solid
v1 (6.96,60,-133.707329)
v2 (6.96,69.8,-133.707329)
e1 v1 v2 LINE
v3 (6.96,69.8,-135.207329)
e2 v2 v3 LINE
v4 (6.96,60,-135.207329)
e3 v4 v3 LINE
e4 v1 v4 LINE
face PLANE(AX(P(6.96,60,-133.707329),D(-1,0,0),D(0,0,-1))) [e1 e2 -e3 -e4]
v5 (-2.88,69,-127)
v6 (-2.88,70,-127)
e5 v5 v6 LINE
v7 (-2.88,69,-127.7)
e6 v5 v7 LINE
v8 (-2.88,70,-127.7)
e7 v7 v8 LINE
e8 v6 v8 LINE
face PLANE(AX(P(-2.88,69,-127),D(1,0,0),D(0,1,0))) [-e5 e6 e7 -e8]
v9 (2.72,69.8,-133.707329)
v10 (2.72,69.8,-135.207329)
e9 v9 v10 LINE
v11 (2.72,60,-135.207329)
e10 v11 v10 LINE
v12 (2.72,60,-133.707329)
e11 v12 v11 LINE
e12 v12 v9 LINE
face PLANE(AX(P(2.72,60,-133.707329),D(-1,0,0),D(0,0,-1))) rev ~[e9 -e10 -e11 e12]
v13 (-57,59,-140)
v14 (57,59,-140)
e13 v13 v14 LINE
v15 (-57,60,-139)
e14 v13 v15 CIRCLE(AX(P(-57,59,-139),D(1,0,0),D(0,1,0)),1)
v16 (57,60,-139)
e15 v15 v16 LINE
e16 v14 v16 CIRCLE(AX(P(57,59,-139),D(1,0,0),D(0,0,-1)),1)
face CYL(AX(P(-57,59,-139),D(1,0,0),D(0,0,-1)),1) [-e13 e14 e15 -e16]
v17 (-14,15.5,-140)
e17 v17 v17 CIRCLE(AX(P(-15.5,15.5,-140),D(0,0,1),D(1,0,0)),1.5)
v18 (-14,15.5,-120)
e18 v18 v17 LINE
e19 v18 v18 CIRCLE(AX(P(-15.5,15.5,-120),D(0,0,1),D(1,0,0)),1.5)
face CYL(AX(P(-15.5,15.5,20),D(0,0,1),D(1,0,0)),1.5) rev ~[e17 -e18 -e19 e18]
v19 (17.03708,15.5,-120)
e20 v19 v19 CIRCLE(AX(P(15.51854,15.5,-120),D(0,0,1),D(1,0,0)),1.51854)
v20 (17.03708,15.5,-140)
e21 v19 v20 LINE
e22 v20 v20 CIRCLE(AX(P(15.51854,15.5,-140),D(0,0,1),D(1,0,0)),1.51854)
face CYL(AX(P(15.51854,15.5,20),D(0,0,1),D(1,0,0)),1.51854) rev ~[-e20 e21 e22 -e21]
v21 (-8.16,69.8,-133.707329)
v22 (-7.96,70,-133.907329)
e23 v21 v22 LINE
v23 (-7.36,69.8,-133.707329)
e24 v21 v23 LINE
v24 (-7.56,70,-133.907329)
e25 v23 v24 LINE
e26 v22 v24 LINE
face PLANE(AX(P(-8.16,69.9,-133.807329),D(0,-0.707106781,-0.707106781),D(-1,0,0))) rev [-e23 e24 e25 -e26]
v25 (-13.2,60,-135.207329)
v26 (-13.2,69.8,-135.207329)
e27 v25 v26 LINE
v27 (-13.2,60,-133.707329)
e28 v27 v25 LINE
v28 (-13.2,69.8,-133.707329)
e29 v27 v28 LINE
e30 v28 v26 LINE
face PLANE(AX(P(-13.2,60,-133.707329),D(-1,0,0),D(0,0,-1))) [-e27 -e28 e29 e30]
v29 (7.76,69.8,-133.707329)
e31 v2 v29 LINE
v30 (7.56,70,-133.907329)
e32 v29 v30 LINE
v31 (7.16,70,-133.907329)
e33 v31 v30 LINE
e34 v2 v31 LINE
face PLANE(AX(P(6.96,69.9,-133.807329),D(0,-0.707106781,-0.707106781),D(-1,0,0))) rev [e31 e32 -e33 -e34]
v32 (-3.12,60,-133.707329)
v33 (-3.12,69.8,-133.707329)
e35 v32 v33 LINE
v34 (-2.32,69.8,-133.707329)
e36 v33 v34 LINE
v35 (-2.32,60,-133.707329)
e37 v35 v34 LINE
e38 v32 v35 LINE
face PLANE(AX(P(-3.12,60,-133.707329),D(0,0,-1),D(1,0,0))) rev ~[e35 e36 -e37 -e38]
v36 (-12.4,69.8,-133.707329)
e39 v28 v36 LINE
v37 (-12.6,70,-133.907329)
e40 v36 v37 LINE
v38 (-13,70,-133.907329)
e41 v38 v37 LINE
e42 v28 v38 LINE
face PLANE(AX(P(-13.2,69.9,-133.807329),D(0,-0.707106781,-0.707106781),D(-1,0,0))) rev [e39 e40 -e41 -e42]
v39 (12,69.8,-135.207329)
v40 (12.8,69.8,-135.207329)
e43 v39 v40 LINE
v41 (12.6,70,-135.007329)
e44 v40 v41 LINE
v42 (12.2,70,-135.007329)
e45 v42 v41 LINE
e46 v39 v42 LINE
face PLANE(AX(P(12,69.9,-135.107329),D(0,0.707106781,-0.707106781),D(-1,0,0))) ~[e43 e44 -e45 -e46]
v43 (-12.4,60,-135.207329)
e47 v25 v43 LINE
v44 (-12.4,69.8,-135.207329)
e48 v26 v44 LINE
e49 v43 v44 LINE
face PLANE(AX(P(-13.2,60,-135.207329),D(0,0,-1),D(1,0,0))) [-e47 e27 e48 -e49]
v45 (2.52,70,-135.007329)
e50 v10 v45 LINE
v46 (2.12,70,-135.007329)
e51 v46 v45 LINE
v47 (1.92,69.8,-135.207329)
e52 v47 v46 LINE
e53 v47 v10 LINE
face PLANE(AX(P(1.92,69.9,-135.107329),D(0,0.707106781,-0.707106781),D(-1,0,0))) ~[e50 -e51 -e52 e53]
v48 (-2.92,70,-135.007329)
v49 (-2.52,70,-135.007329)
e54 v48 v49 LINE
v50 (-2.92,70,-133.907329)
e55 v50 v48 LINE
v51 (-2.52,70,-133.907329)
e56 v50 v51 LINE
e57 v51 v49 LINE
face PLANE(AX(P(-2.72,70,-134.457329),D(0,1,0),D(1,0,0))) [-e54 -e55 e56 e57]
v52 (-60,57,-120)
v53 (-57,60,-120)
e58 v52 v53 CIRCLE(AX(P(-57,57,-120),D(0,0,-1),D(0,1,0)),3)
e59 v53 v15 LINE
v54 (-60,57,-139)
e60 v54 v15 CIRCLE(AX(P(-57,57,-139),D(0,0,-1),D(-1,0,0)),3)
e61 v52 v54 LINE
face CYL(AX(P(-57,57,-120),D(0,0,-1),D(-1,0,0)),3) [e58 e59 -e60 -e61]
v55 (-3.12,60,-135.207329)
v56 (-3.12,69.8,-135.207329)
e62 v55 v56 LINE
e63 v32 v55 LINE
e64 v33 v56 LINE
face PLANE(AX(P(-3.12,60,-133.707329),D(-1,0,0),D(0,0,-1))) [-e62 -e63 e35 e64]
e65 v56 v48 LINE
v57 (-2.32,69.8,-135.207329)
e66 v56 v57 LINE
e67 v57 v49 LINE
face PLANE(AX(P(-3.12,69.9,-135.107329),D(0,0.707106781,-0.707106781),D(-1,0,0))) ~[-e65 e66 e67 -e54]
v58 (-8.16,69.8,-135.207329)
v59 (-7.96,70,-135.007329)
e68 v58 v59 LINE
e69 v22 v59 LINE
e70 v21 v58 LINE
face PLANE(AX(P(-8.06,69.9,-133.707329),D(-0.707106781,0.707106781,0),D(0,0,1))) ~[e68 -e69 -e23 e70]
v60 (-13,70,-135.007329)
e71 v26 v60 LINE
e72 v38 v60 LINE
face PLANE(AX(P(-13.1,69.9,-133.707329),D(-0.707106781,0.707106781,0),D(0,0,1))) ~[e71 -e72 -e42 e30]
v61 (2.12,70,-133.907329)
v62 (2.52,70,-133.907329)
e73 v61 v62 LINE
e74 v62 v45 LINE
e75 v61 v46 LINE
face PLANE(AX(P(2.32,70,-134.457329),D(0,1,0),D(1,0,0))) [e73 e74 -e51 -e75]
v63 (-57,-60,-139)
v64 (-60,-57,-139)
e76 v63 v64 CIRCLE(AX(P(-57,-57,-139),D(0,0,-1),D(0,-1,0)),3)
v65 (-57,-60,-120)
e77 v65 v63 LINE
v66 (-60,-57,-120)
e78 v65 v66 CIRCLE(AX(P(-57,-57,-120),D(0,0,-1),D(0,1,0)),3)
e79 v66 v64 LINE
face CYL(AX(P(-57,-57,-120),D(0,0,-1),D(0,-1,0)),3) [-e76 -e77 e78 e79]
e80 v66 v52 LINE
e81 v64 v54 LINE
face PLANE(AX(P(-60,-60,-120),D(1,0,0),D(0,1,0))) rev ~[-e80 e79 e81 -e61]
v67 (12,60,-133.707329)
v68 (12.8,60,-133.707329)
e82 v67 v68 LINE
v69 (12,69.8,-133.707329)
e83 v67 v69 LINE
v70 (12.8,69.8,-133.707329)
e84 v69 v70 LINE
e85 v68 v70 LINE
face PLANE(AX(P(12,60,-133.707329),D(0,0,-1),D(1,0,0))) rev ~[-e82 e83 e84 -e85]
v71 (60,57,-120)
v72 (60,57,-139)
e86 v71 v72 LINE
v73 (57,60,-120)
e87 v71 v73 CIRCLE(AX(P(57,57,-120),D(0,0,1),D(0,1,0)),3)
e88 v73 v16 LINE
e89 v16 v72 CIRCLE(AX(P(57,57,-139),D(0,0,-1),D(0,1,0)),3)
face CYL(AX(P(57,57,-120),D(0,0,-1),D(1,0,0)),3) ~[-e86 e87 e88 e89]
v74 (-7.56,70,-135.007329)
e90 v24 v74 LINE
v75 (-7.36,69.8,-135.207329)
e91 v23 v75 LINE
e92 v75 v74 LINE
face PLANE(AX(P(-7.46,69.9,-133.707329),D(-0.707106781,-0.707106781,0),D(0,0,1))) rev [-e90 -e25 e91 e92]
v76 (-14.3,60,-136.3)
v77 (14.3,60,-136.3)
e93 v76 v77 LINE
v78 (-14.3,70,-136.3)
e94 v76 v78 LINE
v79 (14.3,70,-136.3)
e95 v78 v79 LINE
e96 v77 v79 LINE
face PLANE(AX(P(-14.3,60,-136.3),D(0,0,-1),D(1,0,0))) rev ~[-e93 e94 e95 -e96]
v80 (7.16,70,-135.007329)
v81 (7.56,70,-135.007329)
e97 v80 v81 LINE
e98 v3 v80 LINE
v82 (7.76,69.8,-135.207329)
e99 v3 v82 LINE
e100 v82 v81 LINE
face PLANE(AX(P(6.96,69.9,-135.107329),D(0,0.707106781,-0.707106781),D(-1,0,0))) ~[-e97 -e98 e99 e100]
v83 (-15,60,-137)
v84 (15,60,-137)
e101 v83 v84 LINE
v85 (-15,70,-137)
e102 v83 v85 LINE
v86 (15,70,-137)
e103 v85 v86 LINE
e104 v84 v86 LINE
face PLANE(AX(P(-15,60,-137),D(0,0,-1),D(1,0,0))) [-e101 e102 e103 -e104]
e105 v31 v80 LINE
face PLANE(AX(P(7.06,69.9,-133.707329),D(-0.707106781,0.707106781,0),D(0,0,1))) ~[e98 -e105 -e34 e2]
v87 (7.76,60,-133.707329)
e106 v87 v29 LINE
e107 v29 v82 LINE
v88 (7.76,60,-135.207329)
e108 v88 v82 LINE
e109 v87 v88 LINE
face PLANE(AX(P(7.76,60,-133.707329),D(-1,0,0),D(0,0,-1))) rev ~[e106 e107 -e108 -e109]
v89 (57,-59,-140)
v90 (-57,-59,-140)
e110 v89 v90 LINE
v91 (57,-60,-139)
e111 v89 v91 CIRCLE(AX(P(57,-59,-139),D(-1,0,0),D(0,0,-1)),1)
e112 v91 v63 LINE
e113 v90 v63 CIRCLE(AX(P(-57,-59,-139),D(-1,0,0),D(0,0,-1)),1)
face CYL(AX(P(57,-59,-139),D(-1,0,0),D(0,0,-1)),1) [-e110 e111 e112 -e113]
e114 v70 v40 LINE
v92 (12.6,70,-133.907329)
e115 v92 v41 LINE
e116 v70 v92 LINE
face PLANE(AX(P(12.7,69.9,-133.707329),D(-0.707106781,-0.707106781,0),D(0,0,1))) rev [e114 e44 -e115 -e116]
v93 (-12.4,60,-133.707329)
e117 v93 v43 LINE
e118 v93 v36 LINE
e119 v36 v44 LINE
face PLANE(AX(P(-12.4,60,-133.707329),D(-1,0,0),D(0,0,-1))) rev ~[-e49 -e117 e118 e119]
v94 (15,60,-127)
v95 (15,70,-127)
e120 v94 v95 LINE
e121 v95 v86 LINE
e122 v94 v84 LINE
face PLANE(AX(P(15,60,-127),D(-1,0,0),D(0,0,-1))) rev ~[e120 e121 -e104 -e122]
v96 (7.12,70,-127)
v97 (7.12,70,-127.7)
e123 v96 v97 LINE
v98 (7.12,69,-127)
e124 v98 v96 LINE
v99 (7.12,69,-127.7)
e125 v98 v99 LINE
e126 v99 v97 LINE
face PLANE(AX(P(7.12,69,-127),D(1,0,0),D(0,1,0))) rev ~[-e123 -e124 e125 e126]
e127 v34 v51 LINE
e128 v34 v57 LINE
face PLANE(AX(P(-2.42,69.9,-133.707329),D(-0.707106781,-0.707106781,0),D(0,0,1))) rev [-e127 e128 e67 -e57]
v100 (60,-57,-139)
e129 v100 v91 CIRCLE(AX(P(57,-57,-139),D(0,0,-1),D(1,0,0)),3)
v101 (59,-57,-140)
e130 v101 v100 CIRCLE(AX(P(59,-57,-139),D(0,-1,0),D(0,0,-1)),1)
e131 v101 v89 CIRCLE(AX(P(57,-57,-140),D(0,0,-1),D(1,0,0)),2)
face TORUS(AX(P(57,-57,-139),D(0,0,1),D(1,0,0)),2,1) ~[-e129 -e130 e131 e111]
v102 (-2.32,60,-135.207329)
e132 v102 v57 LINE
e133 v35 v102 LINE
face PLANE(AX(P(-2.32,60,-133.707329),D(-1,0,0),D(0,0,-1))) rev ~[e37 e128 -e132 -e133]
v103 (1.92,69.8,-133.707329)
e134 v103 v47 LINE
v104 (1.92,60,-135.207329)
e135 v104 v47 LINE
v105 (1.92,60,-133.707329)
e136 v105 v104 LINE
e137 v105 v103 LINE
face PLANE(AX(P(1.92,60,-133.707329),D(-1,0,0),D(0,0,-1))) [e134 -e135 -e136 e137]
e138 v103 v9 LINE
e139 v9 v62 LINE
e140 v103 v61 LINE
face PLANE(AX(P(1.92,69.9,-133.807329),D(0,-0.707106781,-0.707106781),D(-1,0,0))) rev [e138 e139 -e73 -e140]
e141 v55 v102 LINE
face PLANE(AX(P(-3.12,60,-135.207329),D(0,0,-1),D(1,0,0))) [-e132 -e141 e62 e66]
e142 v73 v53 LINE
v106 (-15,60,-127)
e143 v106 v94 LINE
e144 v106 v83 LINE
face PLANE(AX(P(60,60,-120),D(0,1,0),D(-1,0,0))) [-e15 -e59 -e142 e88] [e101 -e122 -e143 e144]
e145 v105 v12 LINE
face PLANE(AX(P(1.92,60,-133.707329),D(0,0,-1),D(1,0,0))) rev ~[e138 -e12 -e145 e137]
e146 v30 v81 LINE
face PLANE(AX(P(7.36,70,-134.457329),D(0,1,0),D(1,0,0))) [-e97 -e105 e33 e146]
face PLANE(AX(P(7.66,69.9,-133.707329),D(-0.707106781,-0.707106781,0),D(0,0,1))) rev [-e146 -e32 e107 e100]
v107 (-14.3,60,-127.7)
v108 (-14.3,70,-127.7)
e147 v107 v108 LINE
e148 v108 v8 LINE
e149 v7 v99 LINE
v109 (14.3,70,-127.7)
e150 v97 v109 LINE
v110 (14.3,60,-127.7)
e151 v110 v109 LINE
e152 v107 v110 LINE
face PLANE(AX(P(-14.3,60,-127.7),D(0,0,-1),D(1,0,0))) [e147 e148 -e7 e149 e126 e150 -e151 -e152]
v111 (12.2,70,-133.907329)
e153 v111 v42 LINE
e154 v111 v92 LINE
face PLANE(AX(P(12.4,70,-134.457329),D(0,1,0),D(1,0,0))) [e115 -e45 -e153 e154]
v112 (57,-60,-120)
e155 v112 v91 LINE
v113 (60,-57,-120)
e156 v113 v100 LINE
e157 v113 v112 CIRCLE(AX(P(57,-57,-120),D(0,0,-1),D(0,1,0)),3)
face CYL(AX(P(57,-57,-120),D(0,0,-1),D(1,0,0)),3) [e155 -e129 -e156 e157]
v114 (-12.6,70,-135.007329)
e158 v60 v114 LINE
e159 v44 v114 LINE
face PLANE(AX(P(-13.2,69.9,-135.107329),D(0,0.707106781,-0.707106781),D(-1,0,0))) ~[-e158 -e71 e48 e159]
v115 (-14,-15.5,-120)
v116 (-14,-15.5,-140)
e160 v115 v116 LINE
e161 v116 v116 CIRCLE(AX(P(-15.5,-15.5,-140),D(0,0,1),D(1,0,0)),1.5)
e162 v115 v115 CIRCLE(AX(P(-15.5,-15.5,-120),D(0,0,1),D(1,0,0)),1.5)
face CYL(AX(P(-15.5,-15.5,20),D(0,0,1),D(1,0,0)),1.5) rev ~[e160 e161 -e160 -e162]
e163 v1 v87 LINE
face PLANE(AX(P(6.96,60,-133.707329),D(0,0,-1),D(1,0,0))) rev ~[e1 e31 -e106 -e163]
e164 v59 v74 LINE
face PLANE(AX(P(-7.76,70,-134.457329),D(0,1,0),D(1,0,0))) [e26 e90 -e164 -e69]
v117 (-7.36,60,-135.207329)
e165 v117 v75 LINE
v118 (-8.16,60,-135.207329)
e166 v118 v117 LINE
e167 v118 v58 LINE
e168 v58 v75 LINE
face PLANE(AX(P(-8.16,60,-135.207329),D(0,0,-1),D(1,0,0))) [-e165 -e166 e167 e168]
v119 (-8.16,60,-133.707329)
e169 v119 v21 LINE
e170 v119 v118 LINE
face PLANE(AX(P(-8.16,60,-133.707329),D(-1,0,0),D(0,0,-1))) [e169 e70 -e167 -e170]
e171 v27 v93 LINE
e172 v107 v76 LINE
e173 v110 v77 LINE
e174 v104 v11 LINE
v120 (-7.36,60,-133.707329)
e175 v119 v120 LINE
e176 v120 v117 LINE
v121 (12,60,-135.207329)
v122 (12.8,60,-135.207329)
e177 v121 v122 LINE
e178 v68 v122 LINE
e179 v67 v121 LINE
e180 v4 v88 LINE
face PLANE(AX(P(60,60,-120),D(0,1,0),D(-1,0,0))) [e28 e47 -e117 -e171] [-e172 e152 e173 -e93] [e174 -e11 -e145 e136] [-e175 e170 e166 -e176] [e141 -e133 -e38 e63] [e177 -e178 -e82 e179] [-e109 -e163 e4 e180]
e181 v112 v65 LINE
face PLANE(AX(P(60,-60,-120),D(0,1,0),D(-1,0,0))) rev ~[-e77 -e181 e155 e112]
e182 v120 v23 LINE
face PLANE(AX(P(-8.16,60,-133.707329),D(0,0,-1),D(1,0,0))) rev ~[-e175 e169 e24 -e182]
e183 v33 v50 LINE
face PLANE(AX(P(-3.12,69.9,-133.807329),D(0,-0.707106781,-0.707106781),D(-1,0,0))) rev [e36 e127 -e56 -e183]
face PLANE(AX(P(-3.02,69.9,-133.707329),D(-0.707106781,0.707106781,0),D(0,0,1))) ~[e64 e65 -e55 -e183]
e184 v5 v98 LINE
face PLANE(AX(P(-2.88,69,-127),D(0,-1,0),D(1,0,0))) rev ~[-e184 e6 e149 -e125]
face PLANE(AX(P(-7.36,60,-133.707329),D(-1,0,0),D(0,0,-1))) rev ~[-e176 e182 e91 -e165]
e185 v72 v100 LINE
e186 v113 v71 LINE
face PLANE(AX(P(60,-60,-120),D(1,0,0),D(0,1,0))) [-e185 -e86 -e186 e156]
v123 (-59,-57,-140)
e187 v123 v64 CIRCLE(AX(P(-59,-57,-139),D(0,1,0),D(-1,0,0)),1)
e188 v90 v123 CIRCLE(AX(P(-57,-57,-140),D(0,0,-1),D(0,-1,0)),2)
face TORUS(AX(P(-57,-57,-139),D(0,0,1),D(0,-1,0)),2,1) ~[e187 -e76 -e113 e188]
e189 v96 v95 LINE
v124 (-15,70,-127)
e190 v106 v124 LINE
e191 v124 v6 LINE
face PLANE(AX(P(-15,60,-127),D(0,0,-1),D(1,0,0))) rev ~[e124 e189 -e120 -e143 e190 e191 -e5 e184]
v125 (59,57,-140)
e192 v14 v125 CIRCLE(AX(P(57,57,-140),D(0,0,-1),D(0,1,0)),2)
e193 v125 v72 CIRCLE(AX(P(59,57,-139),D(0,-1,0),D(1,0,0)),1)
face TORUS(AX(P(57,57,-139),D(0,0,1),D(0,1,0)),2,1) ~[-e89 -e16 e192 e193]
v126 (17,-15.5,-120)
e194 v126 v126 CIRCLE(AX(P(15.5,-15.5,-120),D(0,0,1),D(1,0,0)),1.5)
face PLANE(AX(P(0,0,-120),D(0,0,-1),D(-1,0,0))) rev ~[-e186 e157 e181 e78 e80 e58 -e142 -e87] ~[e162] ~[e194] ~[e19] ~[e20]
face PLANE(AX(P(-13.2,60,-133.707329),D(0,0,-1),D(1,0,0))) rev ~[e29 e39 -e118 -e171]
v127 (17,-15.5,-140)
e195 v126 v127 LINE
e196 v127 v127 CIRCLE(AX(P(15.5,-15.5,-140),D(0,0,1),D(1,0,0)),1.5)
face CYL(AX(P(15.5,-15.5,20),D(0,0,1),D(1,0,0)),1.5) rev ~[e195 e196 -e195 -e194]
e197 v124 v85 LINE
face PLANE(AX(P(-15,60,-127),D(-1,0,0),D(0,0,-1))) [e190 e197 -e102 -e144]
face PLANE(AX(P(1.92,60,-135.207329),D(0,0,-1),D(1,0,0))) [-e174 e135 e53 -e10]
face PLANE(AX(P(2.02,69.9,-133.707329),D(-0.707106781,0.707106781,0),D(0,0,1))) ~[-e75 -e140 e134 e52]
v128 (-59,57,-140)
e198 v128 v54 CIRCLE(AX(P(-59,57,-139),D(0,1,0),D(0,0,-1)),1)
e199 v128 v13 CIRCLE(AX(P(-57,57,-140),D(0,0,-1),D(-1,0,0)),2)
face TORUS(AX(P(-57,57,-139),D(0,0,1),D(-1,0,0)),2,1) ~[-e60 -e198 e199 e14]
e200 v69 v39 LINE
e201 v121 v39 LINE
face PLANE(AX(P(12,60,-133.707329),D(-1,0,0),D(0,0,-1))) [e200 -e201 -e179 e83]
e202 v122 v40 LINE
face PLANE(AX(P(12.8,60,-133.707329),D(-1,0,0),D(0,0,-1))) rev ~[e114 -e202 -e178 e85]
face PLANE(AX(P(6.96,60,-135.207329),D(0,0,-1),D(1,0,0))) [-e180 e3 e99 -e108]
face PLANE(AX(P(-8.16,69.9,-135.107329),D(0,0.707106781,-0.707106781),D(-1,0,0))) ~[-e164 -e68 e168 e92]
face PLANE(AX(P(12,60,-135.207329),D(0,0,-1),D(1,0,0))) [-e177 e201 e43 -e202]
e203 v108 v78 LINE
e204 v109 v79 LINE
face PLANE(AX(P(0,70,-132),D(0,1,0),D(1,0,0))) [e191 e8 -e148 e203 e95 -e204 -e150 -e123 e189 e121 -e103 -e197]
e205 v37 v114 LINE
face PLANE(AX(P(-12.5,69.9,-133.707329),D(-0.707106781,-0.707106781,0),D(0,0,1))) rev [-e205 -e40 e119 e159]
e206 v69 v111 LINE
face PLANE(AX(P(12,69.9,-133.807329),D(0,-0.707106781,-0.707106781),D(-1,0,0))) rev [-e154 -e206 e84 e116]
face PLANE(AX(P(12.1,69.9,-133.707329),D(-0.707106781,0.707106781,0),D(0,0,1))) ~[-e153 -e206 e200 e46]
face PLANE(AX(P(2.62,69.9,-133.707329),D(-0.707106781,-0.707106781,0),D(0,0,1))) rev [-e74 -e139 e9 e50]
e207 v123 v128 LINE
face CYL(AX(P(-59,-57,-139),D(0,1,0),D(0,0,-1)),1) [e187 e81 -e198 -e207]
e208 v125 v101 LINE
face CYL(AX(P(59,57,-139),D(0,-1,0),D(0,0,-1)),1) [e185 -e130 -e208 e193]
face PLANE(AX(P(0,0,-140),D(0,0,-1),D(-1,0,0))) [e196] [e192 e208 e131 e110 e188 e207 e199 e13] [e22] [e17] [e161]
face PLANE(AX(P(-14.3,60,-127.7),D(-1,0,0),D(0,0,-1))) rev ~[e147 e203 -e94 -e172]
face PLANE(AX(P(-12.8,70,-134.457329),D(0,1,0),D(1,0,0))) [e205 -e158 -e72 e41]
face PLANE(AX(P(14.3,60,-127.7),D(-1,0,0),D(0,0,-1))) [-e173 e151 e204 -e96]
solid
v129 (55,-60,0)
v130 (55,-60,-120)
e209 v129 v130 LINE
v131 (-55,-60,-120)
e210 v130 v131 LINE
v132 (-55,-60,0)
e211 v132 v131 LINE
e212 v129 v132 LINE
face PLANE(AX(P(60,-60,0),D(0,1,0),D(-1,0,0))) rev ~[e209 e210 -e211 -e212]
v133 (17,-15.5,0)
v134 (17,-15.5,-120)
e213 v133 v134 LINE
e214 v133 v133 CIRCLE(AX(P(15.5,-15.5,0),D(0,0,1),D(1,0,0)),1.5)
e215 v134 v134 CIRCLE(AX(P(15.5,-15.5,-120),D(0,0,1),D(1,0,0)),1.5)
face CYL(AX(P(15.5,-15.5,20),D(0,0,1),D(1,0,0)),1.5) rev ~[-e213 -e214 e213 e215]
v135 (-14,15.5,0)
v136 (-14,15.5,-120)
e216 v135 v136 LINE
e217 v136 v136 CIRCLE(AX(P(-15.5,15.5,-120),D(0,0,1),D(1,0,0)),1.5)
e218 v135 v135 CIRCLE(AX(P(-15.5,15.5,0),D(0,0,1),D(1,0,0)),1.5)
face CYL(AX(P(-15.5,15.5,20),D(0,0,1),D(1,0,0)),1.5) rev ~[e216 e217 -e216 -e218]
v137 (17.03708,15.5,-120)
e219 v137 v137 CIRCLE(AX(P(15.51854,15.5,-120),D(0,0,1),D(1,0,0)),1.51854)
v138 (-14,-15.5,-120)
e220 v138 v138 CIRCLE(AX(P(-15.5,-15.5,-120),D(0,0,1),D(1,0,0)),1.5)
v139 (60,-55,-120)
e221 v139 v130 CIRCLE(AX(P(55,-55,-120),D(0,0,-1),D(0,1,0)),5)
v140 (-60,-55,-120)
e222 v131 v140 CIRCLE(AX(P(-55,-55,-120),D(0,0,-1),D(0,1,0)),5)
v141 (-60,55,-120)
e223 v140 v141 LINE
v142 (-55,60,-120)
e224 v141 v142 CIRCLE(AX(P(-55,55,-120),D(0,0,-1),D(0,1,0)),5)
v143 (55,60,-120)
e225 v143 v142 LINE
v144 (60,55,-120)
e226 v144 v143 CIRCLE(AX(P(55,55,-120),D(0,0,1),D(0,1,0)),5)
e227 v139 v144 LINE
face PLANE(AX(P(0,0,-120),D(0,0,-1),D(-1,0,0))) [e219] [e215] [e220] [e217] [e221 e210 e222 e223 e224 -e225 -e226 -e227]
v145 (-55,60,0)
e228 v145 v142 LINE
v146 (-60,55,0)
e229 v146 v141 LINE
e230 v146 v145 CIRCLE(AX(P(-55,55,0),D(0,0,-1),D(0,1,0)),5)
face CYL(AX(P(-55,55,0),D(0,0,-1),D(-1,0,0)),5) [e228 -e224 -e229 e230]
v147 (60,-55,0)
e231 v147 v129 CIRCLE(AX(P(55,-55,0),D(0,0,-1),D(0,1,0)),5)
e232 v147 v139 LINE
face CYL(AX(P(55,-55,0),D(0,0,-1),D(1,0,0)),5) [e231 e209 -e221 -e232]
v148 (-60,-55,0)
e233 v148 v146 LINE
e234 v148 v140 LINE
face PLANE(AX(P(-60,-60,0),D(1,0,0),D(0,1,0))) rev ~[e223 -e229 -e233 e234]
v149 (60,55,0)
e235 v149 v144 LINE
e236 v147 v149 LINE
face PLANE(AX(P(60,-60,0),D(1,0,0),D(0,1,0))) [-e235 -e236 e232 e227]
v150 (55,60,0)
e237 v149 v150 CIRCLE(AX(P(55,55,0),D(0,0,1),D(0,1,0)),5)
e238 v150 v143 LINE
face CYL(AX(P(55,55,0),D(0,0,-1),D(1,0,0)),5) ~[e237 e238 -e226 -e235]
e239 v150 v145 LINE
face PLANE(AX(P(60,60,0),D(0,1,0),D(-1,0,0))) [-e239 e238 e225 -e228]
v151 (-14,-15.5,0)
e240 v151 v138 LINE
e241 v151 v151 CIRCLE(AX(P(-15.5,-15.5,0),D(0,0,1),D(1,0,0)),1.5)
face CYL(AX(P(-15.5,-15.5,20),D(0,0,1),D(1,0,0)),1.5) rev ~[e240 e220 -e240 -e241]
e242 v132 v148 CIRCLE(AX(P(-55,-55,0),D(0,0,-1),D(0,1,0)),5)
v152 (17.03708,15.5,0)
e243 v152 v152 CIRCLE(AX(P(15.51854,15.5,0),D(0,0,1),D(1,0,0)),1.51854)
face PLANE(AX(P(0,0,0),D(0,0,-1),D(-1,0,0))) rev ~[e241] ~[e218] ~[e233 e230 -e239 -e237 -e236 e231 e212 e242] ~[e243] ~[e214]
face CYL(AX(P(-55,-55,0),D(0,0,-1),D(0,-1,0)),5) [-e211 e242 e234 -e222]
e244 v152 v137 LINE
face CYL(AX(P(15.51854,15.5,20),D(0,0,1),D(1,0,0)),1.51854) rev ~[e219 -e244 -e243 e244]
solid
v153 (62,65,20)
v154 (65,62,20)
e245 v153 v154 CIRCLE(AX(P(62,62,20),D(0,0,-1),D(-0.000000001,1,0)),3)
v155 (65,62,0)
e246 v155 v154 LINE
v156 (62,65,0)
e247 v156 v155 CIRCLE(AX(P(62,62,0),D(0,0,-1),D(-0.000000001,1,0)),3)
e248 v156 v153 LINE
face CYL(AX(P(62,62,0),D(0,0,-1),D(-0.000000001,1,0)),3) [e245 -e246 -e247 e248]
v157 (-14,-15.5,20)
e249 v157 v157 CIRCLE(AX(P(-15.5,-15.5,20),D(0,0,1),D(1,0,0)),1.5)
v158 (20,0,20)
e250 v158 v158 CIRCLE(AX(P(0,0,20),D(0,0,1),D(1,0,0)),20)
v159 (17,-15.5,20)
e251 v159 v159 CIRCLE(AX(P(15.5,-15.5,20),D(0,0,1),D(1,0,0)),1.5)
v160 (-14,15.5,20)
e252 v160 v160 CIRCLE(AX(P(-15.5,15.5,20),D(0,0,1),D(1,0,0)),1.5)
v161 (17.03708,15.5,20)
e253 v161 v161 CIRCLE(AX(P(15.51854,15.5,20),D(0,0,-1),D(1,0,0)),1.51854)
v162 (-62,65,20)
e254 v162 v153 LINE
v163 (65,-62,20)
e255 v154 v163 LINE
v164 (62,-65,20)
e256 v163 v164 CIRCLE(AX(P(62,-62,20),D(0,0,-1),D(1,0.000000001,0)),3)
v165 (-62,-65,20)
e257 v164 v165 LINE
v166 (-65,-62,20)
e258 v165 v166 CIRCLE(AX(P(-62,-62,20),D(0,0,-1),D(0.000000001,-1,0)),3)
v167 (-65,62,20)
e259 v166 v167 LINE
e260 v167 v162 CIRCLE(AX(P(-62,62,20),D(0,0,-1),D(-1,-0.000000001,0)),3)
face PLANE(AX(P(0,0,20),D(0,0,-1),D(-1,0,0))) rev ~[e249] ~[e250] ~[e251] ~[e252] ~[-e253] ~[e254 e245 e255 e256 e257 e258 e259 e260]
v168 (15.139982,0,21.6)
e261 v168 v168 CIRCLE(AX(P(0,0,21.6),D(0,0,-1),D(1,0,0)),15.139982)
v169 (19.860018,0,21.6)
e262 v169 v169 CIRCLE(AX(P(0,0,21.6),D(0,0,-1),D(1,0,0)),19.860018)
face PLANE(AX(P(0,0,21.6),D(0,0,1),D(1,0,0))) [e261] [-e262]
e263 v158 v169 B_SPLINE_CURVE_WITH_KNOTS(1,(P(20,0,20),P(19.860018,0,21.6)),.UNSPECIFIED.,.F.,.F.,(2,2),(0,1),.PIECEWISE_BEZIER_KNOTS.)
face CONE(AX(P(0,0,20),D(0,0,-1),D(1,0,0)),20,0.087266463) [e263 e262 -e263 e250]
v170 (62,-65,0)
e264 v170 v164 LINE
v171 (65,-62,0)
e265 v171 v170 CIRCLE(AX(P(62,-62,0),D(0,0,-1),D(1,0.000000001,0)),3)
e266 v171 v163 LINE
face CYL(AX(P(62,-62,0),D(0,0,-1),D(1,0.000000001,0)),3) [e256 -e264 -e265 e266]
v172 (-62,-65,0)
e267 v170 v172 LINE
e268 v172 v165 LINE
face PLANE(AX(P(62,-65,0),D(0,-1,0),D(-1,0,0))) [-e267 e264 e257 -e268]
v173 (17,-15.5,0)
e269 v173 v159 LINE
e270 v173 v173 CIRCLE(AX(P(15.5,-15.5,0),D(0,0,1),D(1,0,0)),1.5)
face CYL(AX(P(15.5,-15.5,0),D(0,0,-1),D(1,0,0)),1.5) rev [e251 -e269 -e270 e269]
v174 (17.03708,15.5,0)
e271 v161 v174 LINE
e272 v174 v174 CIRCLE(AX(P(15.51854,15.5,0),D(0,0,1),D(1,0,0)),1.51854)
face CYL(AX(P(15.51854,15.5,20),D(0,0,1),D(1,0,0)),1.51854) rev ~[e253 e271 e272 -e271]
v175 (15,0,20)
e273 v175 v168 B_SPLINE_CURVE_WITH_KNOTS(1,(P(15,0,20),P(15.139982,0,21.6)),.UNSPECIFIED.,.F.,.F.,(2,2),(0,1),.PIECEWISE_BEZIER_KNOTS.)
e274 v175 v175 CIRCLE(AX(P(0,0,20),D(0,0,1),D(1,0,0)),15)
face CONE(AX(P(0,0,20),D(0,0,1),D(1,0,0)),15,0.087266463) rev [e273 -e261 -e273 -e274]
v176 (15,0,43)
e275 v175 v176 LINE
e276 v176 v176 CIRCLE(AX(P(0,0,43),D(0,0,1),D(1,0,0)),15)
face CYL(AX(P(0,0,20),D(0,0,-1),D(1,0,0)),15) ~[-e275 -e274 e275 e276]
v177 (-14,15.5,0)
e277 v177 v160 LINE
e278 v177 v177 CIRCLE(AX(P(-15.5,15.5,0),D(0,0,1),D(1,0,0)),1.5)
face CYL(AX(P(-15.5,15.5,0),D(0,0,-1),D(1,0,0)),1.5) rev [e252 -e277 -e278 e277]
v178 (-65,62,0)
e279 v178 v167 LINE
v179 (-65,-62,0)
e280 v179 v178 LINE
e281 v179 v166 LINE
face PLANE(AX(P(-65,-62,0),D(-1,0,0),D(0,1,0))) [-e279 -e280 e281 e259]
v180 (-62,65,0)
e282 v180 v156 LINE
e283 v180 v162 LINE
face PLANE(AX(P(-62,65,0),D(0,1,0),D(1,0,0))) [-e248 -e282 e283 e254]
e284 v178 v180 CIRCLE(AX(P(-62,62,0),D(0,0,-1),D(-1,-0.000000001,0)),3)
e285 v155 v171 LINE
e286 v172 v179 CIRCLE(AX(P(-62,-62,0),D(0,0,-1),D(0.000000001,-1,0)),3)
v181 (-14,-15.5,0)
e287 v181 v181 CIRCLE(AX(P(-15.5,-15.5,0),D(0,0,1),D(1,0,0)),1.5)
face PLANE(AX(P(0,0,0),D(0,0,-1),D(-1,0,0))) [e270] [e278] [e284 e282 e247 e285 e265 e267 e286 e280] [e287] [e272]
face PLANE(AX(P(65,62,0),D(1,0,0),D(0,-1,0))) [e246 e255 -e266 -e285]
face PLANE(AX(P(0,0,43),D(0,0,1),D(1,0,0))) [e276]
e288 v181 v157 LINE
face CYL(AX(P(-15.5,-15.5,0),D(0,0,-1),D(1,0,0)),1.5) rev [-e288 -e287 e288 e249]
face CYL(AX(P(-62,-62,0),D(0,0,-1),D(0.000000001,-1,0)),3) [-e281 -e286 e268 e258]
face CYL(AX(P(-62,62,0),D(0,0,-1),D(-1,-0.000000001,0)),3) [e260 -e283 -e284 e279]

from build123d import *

# Parameters (mm, degrees)
SKETCH_1_R          = 1.5
EXTRUDE_1_DEPTH     = 20
SKETCH_4_R          = 15
EXTRUDE_2_DEPTH     = 23
SKETCH_9_W          = 120
SKETCH_9_H          = 120
EXTRUDE_7_DEPTH     = 120
SKETCH_10_W         = 120
SKETCH_10_H         = 120
EXTRUDE_8_DEPTH     = 20
FILLET_1_R          = 3
FILLET_2_R          = 5
SKETCH_12_R         = 1.5
SKETCH_12_R_2       = 1.518540069
CUT_EXTRUDE_1_DEPTH = 161
SKETCH_14_W         = 30
SKETCH_14_H         = 10
SKETCH_14_W_2       = 28.6
SKETCH_14_H_2       = 8.6
SKETCH_14_W_3       = 0.8
SKETCH_14_H_3       = 1.5
EXTRUDE_10_DEPTH    = 10
CHAMFER_1_SIZE      = 0.2
SKETCH_15_W         = 10
SKETCH_15_H         = 1
CUT_EXTRUDE_2_DEPTH = 0.7
FILLET_3_R          = 1
SKETCH_16_R         = 20
SKETCH_16_R_2       = 15
EXTRUDE_11_DEPTH    = 1.6
EXTRUDE_11_TAPER    = 5


with BuildPart() as part:
    # 草图1 → 凸台-拉伸1 (new body)
    with BuildSketch(Plane.XY):
        with BuildLine():
            Line((-62, 65), (62, 65))
            ThreePointArc((62, 65), (64.121320344, 64.121320344), (65, 62))
            Line((65, 62), (65, -62))
            ThreePointArc((65, -62), (64.121320344, -64.121320344), (62, -65))
            Line((62, -65), (-62, -65))
            ThreePointArc((-62, -65), (-64.121320344, -64.121320344), (-65, -62))
            Line((-65, -62), (-65, 62))
            ThreePointArc((-65, 62), (-64.121320344, 64.121320344), (-62, 65))
        make_face()
        with Locations((-15.5, 15.5)):
            Circle(SKETCH_1_R, mode=Mode.SUBTRACT)
        with Locations((15.5, 15.5)):
            Circle(SKETCH_1_R, mode=Mode.SUBTRACT)
        with Locations((15.5, -15.5)):
            Circle(SKETCH_1_R, mode=Mode.SUBTRACT)
        with Locations((-15.5, -15.5)):
            Circle(SKETCH_1_R, mode=Mode.SUBTRACT)
    extrude(amount=EXTRUDE_1_DEPTH)

    # 草图4 → 凸台-拉伸2 (add)
    with BuildSketch(Plane.XY.offset(20)):
        Circle(SKETCH_4_R)
    extrude(amount=EXTRUDE_2_DEPTH)


with BuildPart() as body_2:
    # 草图9 → 凸台-拉伸7 (new body)
    with BuildSketch(Plane(origin=(0, 0, 0), x_dir=(-1, 0, 0), z_dir=(0, 0, -1))):
        Rectangle(SKETCH_9_W, SKETCH_9_H)
    extrude(amount=EXTRUDE_7_DEPTH)

    # 圆角2
    fillet_2_edges = [body_2.edges().sort_by_distance(p)[0] for p in [
        (-60, -60, -60),
        (60, -60, -60),
        (60, 60, -60),
        (-60, 60, -60),
    ]]
    fillet(fillet_2_edges, radius=FILLET_2_R)


with BuildPart() as body_3:
    # 草图10 → 凸台-拉伸8 (new body)
    with BuildSketch(Plane(origin=(0, 0, -120), x_dir=(-1, 0, 0), z_dir=(0, 0, -1))):
        Rectangle(SKETCH_10_W, SKETCH_10_H)
    extrude(amount=EXTRUDE_8_DEPTH)

    # 圆角1
    fillet_1_edges = [body_3.edges().sort_by_distance(p)[0] for p in [
        (60, 60, -130),
        (-60, 60, -130),
        (-60, -60, -130),
        (60, -60, -130),
    ]]
    fillet(fillet_1_edges, radius=FILLET_1_R)


with BuildPart() as cut_extrude_1_tool:
    # 草图12 → 切除-拉伸1 (new body, through all)
    with BuildSketch(Plane.XY.offset(20)):
        with Locations((-15.5, 15.5)):
            Circle(SKETCH_12_R)
        with Locations((15.518540069, 15.5)):
            Circle(SKETCH_12_R_2)
        with Locations((-15.5, -15.5)):
            Circle(SKETCH_12_R)
        with Locations((15.5, -15.5)):
            Circle(SKETCH_12_R)
    extrude(amount=-CUT_EXTRUDE_1_DEPTH)


with BuildPart() as part_1:
    add(part.part)

    # 切除-拉伸1: cut by cut_extrude_1_tool
    add(cut_extrude_1_tool.part, mode=Mode.SUBTRACT)

    # 草图16 → 凸台-拉伸11 (add)
    with BuildSketch(Plane.XY.offset(20)):
        Circle(SKETCH_16_R)
        Circle(SKETCH_16_R_2, mode=Mode.SUBTRACT)
    extrude(amount=EXTRUDE_11_DEPTH, taper=EXTRUDE_11_TAPER)


with BuildPart() as body_2_1:
    add(body_2.part)

    # 切除-拉伸1: cut by cut_extrude_1_tool
    add(cut_extrude_1_tool.part, mode=Mode.SUBTRACT)


with BuildPart() as body_3_1:
    add(body_3.part)

    # 切除-拉伸1: cut by cut_extrude_1_tool
    add(cut_extrude_1_tool.part, mode=Mode.SUBTRACT)

    # 草图14 → 凸台-拉伸10 (add)
    with BuildSketch(Plane(origin=(0, 60, 0), x_dir=(1, 0, 0), z_dir=(0, 1, 0))):
        with Locations((0, 132)):
            Rectangle(SKETCH_14_W, SKETCH_14_H)
        with Locations((0, 132)):
            Rectangle(SKETCH_14_W_2, SKETCH_14_H_2, mode=Mode.SUBTRACT)
        with Locations((-12.8, 134.457329348)):
            Rectangle(SKETCH_14_W_3, SKETCH_14_H_3)
        with Locations((-2.72, 134.457329348)):
            Rectangle(SKETCH_14_W_3, SKETCH_14_H_3)
        with Locations((12.4, 134.457329348)):
            Rectangle(SKETCH_14_W_3, SKETCH_14_H_3)
        with Locations((7.36, 134.457329348)):
            Rectangle(SKETCH_14_W_3, SKETCH_14_H_3)
        with Locations((-7.76, 134.457329348)):
            Rectangle(SKETCH_14_W_3, SKETCH_14_H_3)
        with Locations((2.32, 134.457329348)):
            Rectangle(SKETCH_14_W_3, SKETCH_14_H_3)
    extrude(amount=EXTRUDE_10_DEPTH)

    # 倒角1
    chamfer_1_edges = [body_3_1.edges().sort_by_distance(p)[0] for p in [
        (12.8, 70, -134.457329348),
        (12.4, 70, -135.207329348),
        (12, 70, -134.457329348),
        (12.4, 70, -133.707329348),
        (7.76, 70, -134.457329348),
        (7.36, 70, -135.207329348),
        (6.96, 70, -134.457329348),
        (7.36, 70, -133.707329348),
        (-7.36, 70, -134.457329348),
        (-7.76, 70, -135.207329348),
        (-8.16, 70, -134.457329348),
        (-7.76, 70, -133.707329348),
        (2.72, 70, -134.457329348),
        (2.32, 70, -135.207329348),
        (1.92, 70, -134.457329348),
        (2.32, 70, -133.707329348),
        (-12.4, 70, -134.457329348),
        (-12.8, 70, -135.207329348),
        (-13.2, 70, -134.457329348),
        (-12.8, 70, -133.707329348),
        (-2.32, 70, -134.457329348),
        (-2.72, 70, -135.207329348),
        (-3.12, 70, -134.457329348),
        (-2.72, 70, -133.707329348),
    ]]
    chamfer(chamfer_1_edges, length=CHAMFER_1_SIZE)

    # 草图15 → 切除-拉伸2 (cut)
    with BuildSketch(Plane.XY.offset(-127)):
        with Locations((2.12, 69.5)):
            Rectangle(SKETCH_15_W, SKETCH_15_H)
    extrude(amount=-CUT_EXTRUDE_2_DEPTH, mode=Mode.SUBTRACT)

    # 圆角3
    fillet_3_edges = [body_3_1.edges().sort_by_distance(p)[0] for p in [
        (0, -60, -140),
        (60, 0, -140),
        (-60, 0, -140),
        (0, 60, -140),
        (59.121320344, 59.121320344, -140),
        (-59.121320344, 59.121320344, -140),
        (-59.121320344, -59.121320344, -140),
        (59.121320344, -59.121320344, -140),
    ]]
    fillet(fillet_3_edges, radius=FILLET_3_R)


solid = Compound([part_1.part, body_2_1.part, body_3_1.part])
